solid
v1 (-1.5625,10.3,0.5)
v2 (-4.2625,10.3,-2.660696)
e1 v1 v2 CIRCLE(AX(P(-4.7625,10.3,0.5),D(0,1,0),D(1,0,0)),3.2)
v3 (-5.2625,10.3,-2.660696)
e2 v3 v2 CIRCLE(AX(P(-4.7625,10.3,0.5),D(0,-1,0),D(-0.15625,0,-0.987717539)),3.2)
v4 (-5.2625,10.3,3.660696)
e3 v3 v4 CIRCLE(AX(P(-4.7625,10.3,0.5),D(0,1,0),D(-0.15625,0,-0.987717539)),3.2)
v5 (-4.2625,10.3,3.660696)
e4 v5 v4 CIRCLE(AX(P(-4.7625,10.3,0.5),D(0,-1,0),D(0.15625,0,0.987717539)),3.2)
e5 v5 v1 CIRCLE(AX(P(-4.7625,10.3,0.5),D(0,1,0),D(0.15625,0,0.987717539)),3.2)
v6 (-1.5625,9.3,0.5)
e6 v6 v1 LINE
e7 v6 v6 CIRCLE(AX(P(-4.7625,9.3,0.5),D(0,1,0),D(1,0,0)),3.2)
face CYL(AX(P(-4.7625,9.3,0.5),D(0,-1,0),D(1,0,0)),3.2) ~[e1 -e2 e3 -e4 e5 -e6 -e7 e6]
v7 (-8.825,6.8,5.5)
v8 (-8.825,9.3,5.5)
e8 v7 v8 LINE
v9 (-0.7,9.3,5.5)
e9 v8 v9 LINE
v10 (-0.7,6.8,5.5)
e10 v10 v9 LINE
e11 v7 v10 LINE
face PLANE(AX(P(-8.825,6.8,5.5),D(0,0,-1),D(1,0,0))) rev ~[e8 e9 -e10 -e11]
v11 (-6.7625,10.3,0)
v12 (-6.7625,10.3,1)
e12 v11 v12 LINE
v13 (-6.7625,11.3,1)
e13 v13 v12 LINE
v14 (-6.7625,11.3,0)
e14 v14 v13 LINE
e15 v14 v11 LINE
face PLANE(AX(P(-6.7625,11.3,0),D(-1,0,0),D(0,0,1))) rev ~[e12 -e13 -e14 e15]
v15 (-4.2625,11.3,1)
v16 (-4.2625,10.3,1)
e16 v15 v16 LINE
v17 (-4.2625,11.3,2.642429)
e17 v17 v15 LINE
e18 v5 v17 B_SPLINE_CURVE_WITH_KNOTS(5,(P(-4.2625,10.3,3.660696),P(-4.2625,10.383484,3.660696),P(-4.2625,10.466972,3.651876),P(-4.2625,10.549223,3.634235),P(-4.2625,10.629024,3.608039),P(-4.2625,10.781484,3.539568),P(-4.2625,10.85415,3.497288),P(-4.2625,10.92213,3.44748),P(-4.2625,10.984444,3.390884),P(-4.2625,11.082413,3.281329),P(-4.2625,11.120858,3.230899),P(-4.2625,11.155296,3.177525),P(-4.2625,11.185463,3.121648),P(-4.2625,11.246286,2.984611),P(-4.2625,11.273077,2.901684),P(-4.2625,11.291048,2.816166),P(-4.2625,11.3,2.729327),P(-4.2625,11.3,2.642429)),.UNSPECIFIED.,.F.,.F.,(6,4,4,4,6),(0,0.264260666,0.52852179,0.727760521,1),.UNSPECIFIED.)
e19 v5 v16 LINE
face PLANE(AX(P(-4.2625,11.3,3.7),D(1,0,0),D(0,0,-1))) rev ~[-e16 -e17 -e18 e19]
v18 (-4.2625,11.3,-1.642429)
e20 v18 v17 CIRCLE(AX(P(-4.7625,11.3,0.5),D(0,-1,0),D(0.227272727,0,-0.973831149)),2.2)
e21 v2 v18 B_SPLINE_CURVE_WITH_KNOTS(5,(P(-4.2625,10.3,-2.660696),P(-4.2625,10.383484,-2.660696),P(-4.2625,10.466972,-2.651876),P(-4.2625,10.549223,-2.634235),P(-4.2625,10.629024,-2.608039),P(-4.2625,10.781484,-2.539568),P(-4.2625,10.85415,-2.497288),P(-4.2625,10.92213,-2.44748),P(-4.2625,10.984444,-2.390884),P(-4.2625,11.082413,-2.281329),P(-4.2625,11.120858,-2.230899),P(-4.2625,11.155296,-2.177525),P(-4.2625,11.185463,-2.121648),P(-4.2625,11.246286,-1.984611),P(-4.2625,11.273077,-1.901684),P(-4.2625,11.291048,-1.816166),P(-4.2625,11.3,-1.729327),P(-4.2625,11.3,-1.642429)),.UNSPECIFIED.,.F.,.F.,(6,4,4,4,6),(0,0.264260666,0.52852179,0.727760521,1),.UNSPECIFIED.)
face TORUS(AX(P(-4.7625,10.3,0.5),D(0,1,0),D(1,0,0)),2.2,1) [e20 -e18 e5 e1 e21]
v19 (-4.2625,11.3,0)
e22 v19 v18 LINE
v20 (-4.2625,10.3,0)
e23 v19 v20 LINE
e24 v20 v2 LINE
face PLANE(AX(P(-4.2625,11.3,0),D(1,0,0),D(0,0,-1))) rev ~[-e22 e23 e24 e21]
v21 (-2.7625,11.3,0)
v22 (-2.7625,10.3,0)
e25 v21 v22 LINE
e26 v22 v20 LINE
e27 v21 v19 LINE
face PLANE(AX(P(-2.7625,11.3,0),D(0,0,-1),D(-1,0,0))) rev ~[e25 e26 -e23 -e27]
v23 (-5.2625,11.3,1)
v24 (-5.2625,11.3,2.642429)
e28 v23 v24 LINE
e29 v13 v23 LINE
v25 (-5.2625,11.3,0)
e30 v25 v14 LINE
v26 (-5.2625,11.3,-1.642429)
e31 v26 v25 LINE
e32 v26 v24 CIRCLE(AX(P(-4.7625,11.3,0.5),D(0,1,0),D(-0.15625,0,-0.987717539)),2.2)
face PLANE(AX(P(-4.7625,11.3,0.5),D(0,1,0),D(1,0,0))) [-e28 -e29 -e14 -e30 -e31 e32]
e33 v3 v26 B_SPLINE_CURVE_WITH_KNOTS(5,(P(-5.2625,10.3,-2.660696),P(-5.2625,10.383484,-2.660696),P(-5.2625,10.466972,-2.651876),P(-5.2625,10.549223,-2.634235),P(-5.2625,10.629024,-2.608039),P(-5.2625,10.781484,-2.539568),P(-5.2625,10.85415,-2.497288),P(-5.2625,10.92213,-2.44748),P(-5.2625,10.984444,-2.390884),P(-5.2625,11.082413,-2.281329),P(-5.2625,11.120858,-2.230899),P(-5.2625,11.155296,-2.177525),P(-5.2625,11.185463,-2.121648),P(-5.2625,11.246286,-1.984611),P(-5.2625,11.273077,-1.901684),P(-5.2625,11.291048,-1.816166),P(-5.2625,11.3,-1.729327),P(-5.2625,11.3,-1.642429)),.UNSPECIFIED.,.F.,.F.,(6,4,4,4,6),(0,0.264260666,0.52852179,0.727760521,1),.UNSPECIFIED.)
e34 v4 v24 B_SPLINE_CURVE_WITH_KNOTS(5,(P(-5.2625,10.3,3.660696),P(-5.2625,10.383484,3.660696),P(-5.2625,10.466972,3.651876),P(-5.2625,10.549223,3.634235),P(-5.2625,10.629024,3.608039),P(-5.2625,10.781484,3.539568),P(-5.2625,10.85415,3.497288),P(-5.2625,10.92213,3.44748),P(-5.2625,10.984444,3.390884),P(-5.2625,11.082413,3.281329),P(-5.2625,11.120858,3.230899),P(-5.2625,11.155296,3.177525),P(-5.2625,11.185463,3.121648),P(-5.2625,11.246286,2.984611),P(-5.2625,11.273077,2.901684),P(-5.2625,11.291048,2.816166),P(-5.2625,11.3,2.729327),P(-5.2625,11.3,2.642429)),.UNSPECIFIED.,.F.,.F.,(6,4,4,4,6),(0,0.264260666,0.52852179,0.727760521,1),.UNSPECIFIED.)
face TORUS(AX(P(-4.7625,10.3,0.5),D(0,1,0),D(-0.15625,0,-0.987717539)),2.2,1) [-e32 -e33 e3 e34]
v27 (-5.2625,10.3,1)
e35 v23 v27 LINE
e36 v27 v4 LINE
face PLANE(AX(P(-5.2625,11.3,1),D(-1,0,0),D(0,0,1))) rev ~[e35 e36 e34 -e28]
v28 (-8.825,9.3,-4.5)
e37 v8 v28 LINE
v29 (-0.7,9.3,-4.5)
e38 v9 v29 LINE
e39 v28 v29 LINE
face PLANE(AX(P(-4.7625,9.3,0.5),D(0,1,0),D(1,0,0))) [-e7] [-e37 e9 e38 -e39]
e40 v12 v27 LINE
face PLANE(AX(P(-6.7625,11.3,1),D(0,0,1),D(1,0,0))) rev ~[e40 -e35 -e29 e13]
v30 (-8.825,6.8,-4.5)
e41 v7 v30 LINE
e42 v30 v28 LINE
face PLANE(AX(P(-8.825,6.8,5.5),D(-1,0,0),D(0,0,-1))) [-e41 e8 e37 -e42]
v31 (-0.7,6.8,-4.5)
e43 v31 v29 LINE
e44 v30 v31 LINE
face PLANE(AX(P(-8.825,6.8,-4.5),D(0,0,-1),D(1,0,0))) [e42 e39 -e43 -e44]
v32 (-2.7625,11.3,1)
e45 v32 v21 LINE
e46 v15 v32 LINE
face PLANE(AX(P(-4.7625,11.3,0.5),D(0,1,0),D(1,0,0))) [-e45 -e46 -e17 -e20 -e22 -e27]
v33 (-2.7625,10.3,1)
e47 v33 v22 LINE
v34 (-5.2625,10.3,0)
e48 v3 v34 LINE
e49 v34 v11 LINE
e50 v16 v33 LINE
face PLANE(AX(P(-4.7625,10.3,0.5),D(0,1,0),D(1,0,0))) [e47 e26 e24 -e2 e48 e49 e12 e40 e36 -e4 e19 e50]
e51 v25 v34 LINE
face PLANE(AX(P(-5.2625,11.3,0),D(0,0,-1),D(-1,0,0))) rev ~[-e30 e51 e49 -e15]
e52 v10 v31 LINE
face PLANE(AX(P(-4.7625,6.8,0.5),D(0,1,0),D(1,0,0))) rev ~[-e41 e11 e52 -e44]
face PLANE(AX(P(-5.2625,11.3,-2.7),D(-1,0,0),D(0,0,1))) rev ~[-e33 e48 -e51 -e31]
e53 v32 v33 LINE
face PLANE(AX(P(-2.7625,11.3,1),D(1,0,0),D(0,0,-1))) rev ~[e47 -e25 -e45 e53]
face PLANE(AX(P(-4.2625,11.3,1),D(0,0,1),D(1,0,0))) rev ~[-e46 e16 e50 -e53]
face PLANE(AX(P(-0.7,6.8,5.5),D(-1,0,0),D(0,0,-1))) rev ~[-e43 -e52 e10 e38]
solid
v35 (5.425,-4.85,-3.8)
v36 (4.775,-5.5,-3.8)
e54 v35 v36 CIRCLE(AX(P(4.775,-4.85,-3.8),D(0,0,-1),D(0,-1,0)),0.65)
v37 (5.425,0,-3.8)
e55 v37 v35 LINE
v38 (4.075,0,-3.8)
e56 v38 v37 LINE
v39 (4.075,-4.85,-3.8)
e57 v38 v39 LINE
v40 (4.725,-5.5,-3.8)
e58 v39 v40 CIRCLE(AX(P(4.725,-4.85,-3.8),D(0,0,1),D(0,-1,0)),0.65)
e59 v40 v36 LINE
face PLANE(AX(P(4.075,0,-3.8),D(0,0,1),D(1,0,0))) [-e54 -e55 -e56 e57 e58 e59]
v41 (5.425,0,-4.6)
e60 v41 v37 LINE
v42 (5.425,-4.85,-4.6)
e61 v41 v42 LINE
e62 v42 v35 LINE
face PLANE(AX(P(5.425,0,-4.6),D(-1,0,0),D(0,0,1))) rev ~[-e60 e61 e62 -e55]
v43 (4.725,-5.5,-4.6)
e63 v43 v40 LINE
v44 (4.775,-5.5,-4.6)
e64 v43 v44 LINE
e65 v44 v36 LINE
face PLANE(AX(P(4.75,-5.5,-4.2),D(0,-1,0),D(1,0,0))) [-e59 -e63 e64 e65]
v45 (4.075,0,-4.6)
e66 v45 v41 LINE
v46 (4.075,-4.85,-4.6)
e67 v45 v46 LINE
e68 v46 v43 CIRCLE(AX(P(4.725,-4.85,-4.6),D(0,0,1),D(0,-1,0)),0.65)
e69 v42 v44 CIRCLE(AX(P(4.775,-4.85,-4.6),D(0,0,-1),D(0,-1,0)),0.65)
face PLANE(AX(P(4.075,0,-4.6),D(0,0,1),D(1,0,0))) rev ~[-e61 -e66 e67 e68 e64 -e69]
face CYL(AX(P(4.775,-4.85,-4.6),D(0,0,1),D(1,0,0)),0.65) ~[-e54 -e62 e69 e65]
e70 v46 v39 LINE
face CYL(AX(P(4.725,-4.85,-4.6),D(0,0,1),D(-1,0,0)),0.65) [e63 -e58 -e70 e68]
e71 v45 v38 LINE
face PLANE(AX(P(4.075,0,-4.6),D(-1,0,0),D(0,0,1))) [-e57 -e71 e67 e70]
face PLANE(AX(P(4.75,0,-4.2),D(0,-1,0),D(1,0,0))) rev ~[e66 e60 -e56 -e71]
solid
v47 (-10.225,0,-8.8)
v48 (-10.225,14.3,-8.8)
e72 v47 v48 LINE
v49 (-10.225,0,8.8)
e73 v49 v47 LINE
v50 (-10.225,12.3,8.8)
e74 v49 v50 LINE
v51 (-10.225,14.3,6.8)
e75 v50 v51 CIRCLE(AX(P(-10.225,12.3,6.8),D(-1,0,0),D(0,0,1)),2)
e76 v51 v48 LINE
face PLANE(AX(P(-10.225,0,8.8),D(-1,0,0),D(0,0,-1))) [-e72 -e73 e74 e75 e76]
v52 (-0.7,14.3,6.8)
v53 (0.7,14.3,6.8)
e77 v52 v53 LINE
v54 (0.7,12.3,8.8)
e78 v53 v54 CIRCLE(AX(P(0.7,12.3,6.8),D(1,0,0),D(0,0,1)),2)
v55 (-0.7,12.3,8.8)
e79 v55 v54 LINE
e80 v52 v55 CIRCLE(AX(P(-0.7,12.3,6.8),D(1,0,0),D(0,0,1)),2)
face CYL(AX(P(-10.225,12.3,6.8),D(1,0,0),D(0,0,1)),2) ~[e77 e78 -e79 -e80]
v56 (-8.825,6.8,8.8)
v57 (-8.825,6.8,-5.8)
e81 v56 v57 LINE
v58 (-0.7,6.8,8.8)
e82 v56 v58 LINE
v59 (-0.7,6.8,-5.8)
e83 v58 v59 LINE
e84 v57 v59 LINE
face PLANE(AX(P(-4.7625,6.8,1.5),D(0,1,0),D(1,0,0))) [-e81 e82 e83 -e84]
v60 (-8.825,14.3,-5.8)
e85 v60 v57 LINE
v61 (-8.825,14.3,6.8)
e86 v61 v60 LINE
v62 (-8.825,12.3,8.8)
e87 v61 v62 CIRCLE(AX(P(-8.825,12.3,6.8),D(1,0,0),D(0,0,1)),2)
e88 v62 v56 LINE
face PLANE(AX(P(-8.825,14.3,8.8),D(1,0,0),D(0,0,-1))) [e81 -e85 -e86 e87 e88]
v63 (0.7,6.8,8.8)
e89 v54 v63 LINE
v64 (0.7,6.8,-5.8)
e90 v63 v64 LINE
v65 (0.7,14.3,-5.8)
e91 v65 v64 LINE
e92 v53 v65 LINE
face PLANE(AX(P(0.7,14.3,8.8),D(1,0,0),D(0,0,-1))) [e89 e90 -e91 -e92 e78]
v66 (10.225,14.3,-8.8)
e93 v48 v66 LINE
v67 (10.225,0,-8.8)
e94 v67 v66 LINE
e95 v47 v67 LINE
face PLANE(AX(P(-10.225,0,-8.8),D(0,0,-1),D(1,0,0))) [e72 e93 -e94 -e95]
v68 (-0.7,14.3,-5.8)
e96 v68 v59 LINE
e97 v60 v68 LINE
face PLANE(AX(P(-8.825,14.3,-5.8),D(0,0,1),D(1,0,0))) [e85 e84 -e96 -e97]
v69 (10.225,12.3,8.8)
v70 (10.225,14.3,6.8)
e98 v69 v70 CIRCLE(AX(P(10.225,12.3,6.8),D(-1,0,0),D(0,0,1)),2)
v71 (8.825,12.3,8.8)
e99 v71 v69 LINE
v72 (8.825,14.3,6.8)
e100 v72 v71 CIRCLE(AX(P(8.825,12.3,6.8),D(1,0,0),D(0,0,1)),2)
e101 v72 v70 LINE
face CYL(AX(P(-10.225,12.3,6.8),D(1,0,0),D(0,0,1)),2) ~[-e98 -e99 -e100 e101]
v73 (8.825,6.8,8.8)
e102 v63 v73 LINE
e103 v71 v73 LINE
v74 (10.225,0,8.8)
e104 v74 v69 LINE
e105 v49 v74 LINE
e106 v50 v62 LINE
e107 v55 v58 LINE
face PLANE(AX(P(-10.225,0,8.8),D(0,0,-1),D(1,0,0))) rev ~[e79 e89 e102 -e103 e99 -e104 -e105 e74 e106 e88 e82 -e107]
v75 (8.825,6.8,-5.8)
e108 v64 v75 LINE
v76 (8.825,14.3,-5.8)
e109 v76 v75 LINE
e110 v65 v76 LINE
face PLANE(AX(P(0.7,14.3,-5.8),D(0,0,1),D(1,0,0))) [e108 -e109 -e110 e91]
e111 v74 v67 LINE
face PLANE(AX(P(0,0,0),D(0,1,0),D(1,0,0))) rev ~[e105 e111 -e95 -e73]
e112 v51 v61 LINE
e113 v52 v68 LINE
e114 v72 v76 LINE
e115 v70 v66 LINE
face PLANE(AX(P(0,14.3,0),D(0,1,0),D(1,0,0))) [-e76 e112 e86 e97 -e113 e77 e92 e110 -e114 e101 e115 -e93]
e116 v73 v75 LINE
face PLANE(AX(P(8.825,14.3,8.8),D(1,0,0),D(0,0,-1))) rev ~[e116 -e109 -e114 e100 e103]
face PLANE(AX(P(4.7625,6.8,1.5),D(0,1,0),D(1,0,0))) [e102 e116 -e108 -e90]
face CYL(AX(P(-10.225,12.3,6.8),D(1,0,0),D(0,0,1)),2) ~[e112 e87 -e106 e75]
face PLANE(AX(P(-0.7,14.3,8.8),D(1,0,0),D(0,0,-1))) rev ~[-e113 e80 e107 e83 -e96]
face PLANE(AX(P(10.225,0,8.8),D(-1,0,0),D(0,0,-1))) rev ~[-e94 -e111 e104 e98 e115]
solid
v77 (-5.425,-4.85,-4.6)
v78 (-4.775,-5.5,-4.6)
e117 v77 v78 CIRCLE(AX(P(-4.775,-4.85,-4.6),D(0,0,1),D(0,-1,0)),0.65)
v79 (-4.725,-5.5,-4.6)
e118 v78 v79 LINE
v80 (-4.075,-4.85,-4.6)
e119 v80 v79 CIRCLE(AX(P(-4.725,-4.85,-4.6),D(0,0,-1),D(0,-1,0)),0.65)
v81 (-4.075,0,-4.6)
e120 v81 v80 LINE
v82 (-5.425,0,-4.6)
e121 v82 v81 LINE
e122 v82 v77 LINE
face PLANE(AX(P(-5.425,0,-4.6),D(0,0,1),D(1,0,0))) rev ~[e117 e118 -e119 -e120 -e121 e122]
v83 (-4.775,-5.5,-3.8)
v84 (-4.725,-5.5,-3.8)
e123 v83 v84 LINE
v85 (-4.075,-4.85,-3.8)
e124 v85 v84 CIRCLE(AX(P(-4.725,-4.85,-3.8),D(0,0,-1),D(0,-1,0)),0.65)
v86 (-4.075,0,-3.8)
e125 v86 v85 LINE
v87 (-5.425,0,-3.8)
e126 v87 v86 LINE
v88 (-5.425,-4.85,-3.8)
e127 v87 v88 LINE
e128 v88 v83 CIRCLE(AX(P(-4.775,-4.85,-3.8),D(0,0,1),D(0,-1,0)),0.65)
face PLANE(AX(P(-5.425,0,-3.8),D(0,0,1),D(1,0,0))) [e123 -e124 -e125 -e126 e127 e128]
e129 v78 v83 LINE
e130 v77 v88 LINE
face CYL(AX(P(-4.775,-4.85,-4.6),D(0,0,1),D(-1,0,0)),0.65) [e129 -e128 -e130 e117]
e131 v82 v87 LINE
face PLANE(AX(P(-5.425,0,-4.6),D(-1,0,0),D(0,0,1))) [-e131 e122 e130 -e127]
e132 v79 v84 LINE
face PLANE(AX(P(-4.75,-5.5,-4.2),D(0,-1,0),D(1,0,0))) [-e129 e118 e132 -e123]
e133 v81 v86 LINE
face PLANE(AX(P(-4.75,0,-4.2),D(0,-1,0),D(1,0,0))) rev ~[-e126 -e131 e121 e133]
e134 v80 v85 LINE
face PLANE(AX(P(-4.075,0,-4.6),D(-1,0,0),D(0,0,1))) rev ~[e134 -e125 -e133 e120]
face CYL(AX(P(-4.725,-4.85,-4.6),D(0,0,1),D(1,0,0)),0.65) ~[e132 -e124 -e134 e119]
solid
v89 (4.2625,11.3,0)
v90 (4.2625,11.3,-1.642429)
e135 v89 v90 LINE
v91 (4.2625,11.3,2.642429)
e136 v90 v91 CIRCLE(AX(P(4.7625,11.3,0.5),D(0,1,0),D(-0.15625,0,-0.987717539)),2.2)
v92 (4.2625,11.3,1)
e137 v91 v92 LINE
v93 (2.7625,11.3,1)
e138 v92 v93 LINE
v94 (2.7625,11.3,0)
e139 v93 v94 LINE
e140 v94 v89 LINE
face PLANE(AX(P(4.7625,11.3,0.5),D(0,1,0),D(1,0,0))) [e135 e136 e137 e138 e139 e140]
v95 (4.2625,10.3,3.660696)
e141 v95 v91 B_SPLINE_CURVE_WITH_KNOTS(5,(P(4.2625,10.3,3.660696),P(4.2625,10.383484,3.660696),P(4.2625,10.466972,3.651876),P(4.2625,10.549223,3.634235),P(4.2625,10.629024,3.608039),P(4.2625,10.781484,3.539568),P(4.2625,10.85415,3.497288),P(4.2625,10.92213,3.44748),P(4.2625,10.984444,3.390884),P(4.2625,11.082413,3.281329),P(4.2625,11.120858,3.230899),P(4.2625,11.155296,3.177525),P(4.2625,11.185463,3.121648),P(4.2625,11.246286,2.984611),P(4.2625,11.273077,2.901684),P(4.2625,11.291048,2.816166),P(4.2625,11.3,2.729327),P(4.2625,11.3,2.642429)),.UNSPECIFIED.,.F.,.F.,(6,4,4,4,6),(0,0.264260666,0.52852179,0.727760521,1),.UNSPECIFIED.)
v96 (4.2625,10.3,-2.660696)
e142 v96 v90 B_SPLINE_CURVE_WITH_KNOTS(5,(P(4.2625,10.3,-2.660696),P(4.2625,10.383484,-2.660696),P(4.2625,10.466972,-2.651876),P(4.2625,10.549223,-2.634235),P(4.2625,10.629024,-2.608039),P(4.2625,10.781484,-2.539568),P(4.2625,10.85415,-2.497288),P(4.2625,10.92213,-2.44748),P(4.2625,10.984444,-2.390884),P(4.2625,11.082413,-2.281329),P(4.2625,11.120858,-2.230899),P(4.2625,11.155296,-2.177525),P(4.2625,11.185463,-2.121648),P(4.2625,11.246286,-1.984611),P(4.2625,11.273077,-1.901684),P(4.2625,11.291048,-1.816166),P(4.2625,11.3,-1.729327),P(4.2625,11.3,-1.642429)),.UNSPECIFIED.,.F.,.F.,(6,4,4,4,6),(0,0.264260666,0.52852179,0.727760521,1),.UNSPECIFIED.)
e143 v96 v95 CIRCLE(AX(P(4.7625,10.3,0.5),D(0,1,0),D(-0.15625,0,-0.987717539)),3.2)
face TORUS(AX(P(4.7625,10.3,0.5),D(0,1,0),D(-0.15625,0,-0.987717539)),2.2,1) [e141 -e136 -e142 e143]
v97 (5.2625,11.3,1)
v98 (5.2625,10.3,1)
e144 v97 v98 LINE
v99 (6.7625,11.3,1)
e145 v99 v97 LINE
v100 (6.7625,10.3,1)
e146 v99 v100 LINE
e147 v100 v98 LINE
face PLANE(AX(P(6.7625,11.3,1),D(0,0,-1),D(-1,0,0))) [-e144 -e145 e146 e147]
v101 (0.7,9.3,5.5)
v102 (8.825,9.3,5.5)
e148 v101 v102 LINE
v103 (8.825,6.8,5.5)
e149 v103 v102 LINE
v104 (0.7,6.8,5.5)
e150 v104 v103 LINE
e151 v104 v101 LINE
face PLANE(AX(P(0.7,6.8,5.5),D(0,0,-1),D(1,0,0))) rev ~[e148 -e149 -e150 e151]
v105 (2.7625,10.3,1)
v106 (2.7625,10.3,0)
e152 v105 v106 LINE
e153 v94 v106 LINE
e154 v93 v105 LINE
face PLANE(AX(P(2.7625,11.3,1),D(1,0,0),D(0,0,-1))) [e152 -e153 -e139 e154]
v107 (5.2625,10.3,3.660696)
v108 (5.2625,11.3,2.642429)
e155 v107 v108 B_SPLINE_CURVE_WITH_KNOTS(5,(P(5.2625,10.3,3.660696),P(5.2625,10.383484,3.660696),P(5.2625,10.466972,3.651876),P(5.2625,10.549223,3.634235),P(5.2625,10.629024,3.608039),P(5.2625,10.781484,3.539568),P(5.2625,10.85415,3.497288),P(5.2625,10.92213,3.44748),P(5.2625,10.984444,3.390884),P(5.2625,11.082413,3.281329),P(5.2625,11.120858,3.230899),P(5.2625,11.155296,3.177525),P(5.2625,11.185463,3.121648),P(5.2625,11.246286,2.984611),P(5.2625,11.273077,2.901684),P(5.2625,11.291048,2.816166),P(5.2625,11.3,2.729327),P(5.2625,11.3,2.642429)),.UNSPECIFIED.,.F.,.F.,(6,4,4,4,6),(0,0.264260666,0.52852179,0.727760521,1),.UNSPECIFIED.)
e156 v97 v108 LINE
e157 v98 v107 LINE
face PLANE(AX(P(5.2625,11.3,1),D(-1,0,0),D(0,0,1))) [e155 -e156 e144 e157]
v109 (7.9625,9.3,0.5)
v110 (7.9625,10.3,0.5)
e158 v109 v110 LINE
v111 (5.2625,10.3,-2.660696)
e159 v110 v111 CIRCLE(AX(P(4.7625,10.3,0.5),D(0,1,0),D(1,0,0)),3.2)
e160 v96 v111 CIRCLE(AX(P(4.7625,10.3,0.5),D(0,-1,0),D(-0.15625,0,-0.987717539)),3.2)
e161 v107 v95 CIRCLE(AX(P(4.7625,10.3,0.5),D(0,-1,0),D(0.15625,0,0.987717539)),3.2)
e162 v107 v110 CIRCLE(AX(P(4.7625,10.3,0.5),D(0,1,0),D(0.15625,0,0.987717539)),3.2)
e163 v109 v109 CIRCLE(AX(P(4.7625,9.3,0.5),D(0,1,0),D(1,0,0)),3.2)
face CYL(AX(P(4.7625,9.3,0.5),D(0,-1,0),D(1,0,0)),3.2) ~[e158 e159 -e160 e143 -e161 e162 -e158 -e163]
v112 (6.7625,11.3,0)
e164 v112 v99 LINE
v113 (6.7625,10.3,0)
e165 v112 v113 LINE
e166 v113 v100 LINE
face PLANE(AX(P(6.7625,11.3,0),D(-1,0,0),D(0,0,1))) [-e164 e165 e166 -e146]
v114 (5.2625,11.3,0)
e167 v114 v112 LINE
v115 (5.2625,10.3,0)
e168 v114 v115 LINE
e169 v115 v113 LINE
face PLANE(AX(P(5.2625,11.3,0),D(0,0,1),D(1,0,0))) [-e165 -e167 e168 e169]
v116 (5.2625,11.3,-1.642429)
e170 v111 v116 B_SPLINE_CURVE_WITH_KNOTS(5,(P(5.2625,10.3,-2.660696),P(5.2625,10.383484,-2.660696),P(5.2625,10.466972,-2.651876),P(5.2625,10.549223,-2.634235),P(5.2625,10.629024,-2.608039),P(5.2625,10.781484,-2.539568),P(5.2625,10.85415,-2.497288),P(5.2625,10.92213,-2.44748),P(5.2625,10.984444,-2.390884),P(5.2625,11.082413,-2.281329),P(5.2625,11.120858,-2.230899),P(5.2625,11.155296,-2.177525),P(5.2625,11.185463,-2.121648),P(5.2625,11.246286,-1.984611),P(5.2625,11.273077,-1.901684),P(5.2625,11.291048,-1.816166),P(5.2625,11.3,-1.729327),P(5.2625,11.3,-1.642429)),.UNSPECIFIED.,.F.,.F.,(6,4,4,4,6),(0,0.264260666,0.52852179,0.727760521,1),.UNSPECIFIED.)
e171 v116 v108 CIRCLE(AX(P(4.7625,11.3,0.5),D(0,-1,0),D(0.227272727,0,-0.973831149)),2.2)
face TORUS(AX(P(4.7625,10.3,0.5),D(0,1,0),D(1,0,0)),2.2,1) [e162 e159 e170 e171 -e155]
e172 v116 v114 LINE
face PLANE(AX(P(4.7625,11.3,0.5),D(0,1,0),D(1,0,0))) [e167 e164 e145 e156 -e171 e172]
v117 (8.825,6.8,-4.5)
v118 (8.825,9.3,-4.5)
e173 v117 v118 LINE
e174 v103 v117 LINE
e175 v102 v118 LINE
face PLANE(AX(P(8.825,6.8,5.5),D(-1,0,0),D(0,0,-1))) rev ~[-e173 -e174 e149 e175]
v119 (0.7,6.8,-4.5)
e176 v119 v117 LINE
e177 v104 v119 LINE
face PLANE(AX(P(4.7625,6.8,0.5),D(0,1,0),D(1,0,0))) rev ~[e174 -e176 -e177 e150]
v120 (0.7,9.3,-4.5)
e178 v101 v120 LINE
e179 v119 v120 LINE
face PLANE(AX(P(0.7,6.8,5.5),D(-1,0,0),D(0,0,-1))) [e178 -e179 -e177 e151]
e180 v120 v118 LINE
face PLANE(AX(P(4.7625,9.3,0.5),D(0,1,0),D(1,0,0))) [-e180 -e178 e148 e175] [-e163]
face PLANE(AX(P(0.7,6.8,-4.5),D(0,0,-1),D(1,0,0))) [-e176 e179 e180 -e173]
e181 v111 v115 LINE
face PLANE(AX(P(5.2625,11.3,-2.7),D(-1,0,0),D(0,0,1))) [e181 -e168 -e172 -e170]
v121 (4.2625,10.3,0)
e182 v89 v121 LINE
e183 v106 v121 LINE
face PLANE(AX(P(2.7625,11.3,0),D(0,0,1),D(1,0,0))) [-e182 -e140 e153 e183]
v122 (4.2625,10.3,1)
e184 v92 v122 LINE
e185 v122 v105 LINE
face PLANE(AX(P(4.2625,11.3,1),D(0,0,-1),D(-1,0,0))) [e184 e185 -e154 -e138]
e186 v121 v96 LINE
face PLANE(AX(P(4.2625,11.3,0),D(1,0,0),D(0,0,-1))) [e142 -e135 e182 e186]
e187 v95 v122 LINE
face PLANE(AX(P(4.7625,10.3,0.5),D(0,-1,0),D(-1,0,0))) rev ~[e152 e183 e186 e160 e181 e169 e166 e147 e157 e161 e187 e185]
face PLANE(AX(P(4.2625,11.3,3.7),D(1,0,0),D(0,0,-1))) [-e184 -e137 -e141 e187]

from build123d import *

# Parameters (mm, degrees)
SKETCH1_W             = 20.45
SKETCH1_H             = 17.6
BOSS_EXTRUDE1_DEPTH   = 14.3
FILLET1_R             = 2
SKETCH2_W             = 8.125
SKETCH2_H             = 14.6
CUT_EXTRUDE1_DEPTH    = 7.5
SKETCH3_W             = 1.35
SKETCH3_H             = 0.8
BOSS_EXTRUDE2_DEPTH   = 5.5
BOSS_EXTRUDE2_2_DEPTH = 5.5
FILLET3_R             = 0.65
FILLET4_R             = 0.65
SKETCH4_W             = 8.125
SKETCH4_H             = 10
BOSS_EXTRUDE3_DEPTH   = 2.5
BOSS_EXTRUDE3_2_DEPTH = 2.5
SKETCH5_R             = 3.2
BOSS_EXTRUDE4_DEPTH   = 2
CUT_EXTRUDE2_DEPTH    = 1
FILLET5_R             = 1
FILLET6_R             = 1


with BuildPart() as part:
    # Sketch1 → Boss-Extrude1 (new body)
    with BuildSketch(Plane(origin=(0, 0, 0), x_dir=(1, 0, 0), z_dir=(0, 1, 0))):
        Rectangle(SKETCH1_W, SKETCH1_H)
    extrude(amount=BOSS_EXTRUDE1_DEPTH)

    # Fillet1
    fillet1_edges = [part.edges().sort_by_distance(p)[0] for p in [
        (0, 14.3, 8.8),
    ]]
    fillet(fillet1_edges, radius=FILLET1_R)

    # Sketch2 → Cut-Extrude1 (cut)
    with BuildSketch(Plane(origin=(0, 14.3, 0), x_dir=(1, 0, 0), z_dir=(0, 1, 0))):
        with Locations((-4.7625, -1.5)):
            Rectangle(SKETCH2_W, SKETCH2_H)
        with Locations((4.7625, -1.5)):
            Rectangle(SKETCH2_W, SKETCH2_H)
    extrude(amount=-CUT_EXTRUDE1_DEPTH, mode=Mode.SUBTRACT)


with BuildPart() as body_2:
    # Sketch3 → Boss-Extrude2 (new body)
    with BuildSketch(Plane.XZ):
        with Locations((-4.75, -4.2)):
            Rectangle(SKETCH3_W, SKETCH3_H)
    extrude(amount=BOSS_EXTRUDE2_DEPTH)

    # Fillet4
    fillet4_edges = [body_2.edges().sort_by_distance(p)[0] for p in [
        (-4.075, -5.5, -4.2),
        (-5.425, -5.5, -4.2),
    ]]
    fillet(fillet4_edges, radius=FILLET4_R)


with BuildPart() as body_3:
    # Sketch3 → Boss-Extrude2 2 (new body)
    with BuildSketch(Plane.XZ):
        with Locations((4.75, -4.2)):
            Rectangle(SKETCH3_W, SKETCH3_H)
    extrude(amount=BOSS_EXTRUDE2_2_DEPTH)

    # Fillet3
    fillet3_edges = [body_3.edges().sort_by_distance(p)[0] for p in [
        (5.425, -5.5, -4.2),
        (4.075, -5.5, -4.2),
    ]]
    fillet(fillet3_edges, radius=FILLET3_R)


with BuildPart() as body_4:
    # Sketch4 → Boss-Extrude3 (new body)
    with BuildSketch(Plane(origin=(0, 6.8, 0), x_dir=(1, 0, 0), z_dir=(0, 1, 0))):
        with Locations((-4.7625, -0.5)):
            Rectangle(SKETCH4_W, SKETCH4_H)
    extrude(amount=BOSS_EXTRUDE3_DEPTH)



with BuildPart() as body_5:
    # Sketch4 → Boss-Extrude3 2 (new body)
    with BuildSketch(Plane(origin=(0, 6.8, 0), x_dir=(1, 0, 0), z_dir=(0, 1, 0))):
        with Locations((4.7625, -0.5)):
            Rectangle(SKETCH4_W, SKETCH4_H)
    extrude(amount=BOSS_EXTRUDE3_2_DEPTH)


with BuildPart() as body_4_1:
    add(body_4.part)

    add(body_5.part)  # Boss-Extrude4 merges body 5
    # Sketch5 → Boss-Extrude4 (add)
    with BuildSketch(Plane(origin=(0, 9.3, 0), x_dir=(1, 0, 0), z_dir=(0, 1, 0))):
        with Locations((-4.7625, -0.5)):
            Circle(SKETCH5_R)
        with Locations((4.7625, -0.5)):
            Circle(SKETCH5_R)
    extrude(amount=BOSS_EXTRUDE4_DEPTH)

    # Sketch6 → Cut-Extrude2 (cut)
    with BuildSketch(Plane(origin=(0, 11.3, 0), x_dir=(1, 0, 0), z_dir=(0, 1, 0))):
        Polygon((-5.2625, 2.7), (-5.2625, 0), (-6.7625, 0), (-6.7625, -1), (-5.2625, -1), (-5.2625, -3.7), (-4.2625, -3.7), (-4.2625, -1), (-2.7625, -1), (-2.7625, 0), (-4.2625, 0), (-4.2625, 2.7), align=None)
        Polygon((4.2625, 0), (4.2625, 2.7), (5.2625, 2.7), (5.2625, 0), (6.7625, 0), (6.7625, -1), (5.2625, -1), (5.2625, -3.7), (4.2625, -3.7), (4.2625, -1), (2.7625, -1), (2.7625, 0), align=None)
    extrude(amount=-CUT_EXTRUDE2_DEPTH, mode=Mode.SUBTRACT)

    # Fillet5
    fillet5_edges = [body_4_1.edges().sort_by_distance(p)[0] for p in [
        (-2.329394988, 11.3, -1.578460969),
        (-7.9625, 11.3, 0.5),
    ]]
    fillet(fillet5_edges, radius=FILLET5_R)

    # Fillet6
    fillet6_edges = [body_4_1.edges().sort_by_distance(p)[0] for p in [
        (7.195605012, 11.3, -1.578460969),
        (1.5625, 11.3, 0.5),
    ]]
    fillet(fillet6_edges, radius=FILLET6_R)


solid = Compound([part.part, body_2.part, body_3.part, body_4_1.part])
